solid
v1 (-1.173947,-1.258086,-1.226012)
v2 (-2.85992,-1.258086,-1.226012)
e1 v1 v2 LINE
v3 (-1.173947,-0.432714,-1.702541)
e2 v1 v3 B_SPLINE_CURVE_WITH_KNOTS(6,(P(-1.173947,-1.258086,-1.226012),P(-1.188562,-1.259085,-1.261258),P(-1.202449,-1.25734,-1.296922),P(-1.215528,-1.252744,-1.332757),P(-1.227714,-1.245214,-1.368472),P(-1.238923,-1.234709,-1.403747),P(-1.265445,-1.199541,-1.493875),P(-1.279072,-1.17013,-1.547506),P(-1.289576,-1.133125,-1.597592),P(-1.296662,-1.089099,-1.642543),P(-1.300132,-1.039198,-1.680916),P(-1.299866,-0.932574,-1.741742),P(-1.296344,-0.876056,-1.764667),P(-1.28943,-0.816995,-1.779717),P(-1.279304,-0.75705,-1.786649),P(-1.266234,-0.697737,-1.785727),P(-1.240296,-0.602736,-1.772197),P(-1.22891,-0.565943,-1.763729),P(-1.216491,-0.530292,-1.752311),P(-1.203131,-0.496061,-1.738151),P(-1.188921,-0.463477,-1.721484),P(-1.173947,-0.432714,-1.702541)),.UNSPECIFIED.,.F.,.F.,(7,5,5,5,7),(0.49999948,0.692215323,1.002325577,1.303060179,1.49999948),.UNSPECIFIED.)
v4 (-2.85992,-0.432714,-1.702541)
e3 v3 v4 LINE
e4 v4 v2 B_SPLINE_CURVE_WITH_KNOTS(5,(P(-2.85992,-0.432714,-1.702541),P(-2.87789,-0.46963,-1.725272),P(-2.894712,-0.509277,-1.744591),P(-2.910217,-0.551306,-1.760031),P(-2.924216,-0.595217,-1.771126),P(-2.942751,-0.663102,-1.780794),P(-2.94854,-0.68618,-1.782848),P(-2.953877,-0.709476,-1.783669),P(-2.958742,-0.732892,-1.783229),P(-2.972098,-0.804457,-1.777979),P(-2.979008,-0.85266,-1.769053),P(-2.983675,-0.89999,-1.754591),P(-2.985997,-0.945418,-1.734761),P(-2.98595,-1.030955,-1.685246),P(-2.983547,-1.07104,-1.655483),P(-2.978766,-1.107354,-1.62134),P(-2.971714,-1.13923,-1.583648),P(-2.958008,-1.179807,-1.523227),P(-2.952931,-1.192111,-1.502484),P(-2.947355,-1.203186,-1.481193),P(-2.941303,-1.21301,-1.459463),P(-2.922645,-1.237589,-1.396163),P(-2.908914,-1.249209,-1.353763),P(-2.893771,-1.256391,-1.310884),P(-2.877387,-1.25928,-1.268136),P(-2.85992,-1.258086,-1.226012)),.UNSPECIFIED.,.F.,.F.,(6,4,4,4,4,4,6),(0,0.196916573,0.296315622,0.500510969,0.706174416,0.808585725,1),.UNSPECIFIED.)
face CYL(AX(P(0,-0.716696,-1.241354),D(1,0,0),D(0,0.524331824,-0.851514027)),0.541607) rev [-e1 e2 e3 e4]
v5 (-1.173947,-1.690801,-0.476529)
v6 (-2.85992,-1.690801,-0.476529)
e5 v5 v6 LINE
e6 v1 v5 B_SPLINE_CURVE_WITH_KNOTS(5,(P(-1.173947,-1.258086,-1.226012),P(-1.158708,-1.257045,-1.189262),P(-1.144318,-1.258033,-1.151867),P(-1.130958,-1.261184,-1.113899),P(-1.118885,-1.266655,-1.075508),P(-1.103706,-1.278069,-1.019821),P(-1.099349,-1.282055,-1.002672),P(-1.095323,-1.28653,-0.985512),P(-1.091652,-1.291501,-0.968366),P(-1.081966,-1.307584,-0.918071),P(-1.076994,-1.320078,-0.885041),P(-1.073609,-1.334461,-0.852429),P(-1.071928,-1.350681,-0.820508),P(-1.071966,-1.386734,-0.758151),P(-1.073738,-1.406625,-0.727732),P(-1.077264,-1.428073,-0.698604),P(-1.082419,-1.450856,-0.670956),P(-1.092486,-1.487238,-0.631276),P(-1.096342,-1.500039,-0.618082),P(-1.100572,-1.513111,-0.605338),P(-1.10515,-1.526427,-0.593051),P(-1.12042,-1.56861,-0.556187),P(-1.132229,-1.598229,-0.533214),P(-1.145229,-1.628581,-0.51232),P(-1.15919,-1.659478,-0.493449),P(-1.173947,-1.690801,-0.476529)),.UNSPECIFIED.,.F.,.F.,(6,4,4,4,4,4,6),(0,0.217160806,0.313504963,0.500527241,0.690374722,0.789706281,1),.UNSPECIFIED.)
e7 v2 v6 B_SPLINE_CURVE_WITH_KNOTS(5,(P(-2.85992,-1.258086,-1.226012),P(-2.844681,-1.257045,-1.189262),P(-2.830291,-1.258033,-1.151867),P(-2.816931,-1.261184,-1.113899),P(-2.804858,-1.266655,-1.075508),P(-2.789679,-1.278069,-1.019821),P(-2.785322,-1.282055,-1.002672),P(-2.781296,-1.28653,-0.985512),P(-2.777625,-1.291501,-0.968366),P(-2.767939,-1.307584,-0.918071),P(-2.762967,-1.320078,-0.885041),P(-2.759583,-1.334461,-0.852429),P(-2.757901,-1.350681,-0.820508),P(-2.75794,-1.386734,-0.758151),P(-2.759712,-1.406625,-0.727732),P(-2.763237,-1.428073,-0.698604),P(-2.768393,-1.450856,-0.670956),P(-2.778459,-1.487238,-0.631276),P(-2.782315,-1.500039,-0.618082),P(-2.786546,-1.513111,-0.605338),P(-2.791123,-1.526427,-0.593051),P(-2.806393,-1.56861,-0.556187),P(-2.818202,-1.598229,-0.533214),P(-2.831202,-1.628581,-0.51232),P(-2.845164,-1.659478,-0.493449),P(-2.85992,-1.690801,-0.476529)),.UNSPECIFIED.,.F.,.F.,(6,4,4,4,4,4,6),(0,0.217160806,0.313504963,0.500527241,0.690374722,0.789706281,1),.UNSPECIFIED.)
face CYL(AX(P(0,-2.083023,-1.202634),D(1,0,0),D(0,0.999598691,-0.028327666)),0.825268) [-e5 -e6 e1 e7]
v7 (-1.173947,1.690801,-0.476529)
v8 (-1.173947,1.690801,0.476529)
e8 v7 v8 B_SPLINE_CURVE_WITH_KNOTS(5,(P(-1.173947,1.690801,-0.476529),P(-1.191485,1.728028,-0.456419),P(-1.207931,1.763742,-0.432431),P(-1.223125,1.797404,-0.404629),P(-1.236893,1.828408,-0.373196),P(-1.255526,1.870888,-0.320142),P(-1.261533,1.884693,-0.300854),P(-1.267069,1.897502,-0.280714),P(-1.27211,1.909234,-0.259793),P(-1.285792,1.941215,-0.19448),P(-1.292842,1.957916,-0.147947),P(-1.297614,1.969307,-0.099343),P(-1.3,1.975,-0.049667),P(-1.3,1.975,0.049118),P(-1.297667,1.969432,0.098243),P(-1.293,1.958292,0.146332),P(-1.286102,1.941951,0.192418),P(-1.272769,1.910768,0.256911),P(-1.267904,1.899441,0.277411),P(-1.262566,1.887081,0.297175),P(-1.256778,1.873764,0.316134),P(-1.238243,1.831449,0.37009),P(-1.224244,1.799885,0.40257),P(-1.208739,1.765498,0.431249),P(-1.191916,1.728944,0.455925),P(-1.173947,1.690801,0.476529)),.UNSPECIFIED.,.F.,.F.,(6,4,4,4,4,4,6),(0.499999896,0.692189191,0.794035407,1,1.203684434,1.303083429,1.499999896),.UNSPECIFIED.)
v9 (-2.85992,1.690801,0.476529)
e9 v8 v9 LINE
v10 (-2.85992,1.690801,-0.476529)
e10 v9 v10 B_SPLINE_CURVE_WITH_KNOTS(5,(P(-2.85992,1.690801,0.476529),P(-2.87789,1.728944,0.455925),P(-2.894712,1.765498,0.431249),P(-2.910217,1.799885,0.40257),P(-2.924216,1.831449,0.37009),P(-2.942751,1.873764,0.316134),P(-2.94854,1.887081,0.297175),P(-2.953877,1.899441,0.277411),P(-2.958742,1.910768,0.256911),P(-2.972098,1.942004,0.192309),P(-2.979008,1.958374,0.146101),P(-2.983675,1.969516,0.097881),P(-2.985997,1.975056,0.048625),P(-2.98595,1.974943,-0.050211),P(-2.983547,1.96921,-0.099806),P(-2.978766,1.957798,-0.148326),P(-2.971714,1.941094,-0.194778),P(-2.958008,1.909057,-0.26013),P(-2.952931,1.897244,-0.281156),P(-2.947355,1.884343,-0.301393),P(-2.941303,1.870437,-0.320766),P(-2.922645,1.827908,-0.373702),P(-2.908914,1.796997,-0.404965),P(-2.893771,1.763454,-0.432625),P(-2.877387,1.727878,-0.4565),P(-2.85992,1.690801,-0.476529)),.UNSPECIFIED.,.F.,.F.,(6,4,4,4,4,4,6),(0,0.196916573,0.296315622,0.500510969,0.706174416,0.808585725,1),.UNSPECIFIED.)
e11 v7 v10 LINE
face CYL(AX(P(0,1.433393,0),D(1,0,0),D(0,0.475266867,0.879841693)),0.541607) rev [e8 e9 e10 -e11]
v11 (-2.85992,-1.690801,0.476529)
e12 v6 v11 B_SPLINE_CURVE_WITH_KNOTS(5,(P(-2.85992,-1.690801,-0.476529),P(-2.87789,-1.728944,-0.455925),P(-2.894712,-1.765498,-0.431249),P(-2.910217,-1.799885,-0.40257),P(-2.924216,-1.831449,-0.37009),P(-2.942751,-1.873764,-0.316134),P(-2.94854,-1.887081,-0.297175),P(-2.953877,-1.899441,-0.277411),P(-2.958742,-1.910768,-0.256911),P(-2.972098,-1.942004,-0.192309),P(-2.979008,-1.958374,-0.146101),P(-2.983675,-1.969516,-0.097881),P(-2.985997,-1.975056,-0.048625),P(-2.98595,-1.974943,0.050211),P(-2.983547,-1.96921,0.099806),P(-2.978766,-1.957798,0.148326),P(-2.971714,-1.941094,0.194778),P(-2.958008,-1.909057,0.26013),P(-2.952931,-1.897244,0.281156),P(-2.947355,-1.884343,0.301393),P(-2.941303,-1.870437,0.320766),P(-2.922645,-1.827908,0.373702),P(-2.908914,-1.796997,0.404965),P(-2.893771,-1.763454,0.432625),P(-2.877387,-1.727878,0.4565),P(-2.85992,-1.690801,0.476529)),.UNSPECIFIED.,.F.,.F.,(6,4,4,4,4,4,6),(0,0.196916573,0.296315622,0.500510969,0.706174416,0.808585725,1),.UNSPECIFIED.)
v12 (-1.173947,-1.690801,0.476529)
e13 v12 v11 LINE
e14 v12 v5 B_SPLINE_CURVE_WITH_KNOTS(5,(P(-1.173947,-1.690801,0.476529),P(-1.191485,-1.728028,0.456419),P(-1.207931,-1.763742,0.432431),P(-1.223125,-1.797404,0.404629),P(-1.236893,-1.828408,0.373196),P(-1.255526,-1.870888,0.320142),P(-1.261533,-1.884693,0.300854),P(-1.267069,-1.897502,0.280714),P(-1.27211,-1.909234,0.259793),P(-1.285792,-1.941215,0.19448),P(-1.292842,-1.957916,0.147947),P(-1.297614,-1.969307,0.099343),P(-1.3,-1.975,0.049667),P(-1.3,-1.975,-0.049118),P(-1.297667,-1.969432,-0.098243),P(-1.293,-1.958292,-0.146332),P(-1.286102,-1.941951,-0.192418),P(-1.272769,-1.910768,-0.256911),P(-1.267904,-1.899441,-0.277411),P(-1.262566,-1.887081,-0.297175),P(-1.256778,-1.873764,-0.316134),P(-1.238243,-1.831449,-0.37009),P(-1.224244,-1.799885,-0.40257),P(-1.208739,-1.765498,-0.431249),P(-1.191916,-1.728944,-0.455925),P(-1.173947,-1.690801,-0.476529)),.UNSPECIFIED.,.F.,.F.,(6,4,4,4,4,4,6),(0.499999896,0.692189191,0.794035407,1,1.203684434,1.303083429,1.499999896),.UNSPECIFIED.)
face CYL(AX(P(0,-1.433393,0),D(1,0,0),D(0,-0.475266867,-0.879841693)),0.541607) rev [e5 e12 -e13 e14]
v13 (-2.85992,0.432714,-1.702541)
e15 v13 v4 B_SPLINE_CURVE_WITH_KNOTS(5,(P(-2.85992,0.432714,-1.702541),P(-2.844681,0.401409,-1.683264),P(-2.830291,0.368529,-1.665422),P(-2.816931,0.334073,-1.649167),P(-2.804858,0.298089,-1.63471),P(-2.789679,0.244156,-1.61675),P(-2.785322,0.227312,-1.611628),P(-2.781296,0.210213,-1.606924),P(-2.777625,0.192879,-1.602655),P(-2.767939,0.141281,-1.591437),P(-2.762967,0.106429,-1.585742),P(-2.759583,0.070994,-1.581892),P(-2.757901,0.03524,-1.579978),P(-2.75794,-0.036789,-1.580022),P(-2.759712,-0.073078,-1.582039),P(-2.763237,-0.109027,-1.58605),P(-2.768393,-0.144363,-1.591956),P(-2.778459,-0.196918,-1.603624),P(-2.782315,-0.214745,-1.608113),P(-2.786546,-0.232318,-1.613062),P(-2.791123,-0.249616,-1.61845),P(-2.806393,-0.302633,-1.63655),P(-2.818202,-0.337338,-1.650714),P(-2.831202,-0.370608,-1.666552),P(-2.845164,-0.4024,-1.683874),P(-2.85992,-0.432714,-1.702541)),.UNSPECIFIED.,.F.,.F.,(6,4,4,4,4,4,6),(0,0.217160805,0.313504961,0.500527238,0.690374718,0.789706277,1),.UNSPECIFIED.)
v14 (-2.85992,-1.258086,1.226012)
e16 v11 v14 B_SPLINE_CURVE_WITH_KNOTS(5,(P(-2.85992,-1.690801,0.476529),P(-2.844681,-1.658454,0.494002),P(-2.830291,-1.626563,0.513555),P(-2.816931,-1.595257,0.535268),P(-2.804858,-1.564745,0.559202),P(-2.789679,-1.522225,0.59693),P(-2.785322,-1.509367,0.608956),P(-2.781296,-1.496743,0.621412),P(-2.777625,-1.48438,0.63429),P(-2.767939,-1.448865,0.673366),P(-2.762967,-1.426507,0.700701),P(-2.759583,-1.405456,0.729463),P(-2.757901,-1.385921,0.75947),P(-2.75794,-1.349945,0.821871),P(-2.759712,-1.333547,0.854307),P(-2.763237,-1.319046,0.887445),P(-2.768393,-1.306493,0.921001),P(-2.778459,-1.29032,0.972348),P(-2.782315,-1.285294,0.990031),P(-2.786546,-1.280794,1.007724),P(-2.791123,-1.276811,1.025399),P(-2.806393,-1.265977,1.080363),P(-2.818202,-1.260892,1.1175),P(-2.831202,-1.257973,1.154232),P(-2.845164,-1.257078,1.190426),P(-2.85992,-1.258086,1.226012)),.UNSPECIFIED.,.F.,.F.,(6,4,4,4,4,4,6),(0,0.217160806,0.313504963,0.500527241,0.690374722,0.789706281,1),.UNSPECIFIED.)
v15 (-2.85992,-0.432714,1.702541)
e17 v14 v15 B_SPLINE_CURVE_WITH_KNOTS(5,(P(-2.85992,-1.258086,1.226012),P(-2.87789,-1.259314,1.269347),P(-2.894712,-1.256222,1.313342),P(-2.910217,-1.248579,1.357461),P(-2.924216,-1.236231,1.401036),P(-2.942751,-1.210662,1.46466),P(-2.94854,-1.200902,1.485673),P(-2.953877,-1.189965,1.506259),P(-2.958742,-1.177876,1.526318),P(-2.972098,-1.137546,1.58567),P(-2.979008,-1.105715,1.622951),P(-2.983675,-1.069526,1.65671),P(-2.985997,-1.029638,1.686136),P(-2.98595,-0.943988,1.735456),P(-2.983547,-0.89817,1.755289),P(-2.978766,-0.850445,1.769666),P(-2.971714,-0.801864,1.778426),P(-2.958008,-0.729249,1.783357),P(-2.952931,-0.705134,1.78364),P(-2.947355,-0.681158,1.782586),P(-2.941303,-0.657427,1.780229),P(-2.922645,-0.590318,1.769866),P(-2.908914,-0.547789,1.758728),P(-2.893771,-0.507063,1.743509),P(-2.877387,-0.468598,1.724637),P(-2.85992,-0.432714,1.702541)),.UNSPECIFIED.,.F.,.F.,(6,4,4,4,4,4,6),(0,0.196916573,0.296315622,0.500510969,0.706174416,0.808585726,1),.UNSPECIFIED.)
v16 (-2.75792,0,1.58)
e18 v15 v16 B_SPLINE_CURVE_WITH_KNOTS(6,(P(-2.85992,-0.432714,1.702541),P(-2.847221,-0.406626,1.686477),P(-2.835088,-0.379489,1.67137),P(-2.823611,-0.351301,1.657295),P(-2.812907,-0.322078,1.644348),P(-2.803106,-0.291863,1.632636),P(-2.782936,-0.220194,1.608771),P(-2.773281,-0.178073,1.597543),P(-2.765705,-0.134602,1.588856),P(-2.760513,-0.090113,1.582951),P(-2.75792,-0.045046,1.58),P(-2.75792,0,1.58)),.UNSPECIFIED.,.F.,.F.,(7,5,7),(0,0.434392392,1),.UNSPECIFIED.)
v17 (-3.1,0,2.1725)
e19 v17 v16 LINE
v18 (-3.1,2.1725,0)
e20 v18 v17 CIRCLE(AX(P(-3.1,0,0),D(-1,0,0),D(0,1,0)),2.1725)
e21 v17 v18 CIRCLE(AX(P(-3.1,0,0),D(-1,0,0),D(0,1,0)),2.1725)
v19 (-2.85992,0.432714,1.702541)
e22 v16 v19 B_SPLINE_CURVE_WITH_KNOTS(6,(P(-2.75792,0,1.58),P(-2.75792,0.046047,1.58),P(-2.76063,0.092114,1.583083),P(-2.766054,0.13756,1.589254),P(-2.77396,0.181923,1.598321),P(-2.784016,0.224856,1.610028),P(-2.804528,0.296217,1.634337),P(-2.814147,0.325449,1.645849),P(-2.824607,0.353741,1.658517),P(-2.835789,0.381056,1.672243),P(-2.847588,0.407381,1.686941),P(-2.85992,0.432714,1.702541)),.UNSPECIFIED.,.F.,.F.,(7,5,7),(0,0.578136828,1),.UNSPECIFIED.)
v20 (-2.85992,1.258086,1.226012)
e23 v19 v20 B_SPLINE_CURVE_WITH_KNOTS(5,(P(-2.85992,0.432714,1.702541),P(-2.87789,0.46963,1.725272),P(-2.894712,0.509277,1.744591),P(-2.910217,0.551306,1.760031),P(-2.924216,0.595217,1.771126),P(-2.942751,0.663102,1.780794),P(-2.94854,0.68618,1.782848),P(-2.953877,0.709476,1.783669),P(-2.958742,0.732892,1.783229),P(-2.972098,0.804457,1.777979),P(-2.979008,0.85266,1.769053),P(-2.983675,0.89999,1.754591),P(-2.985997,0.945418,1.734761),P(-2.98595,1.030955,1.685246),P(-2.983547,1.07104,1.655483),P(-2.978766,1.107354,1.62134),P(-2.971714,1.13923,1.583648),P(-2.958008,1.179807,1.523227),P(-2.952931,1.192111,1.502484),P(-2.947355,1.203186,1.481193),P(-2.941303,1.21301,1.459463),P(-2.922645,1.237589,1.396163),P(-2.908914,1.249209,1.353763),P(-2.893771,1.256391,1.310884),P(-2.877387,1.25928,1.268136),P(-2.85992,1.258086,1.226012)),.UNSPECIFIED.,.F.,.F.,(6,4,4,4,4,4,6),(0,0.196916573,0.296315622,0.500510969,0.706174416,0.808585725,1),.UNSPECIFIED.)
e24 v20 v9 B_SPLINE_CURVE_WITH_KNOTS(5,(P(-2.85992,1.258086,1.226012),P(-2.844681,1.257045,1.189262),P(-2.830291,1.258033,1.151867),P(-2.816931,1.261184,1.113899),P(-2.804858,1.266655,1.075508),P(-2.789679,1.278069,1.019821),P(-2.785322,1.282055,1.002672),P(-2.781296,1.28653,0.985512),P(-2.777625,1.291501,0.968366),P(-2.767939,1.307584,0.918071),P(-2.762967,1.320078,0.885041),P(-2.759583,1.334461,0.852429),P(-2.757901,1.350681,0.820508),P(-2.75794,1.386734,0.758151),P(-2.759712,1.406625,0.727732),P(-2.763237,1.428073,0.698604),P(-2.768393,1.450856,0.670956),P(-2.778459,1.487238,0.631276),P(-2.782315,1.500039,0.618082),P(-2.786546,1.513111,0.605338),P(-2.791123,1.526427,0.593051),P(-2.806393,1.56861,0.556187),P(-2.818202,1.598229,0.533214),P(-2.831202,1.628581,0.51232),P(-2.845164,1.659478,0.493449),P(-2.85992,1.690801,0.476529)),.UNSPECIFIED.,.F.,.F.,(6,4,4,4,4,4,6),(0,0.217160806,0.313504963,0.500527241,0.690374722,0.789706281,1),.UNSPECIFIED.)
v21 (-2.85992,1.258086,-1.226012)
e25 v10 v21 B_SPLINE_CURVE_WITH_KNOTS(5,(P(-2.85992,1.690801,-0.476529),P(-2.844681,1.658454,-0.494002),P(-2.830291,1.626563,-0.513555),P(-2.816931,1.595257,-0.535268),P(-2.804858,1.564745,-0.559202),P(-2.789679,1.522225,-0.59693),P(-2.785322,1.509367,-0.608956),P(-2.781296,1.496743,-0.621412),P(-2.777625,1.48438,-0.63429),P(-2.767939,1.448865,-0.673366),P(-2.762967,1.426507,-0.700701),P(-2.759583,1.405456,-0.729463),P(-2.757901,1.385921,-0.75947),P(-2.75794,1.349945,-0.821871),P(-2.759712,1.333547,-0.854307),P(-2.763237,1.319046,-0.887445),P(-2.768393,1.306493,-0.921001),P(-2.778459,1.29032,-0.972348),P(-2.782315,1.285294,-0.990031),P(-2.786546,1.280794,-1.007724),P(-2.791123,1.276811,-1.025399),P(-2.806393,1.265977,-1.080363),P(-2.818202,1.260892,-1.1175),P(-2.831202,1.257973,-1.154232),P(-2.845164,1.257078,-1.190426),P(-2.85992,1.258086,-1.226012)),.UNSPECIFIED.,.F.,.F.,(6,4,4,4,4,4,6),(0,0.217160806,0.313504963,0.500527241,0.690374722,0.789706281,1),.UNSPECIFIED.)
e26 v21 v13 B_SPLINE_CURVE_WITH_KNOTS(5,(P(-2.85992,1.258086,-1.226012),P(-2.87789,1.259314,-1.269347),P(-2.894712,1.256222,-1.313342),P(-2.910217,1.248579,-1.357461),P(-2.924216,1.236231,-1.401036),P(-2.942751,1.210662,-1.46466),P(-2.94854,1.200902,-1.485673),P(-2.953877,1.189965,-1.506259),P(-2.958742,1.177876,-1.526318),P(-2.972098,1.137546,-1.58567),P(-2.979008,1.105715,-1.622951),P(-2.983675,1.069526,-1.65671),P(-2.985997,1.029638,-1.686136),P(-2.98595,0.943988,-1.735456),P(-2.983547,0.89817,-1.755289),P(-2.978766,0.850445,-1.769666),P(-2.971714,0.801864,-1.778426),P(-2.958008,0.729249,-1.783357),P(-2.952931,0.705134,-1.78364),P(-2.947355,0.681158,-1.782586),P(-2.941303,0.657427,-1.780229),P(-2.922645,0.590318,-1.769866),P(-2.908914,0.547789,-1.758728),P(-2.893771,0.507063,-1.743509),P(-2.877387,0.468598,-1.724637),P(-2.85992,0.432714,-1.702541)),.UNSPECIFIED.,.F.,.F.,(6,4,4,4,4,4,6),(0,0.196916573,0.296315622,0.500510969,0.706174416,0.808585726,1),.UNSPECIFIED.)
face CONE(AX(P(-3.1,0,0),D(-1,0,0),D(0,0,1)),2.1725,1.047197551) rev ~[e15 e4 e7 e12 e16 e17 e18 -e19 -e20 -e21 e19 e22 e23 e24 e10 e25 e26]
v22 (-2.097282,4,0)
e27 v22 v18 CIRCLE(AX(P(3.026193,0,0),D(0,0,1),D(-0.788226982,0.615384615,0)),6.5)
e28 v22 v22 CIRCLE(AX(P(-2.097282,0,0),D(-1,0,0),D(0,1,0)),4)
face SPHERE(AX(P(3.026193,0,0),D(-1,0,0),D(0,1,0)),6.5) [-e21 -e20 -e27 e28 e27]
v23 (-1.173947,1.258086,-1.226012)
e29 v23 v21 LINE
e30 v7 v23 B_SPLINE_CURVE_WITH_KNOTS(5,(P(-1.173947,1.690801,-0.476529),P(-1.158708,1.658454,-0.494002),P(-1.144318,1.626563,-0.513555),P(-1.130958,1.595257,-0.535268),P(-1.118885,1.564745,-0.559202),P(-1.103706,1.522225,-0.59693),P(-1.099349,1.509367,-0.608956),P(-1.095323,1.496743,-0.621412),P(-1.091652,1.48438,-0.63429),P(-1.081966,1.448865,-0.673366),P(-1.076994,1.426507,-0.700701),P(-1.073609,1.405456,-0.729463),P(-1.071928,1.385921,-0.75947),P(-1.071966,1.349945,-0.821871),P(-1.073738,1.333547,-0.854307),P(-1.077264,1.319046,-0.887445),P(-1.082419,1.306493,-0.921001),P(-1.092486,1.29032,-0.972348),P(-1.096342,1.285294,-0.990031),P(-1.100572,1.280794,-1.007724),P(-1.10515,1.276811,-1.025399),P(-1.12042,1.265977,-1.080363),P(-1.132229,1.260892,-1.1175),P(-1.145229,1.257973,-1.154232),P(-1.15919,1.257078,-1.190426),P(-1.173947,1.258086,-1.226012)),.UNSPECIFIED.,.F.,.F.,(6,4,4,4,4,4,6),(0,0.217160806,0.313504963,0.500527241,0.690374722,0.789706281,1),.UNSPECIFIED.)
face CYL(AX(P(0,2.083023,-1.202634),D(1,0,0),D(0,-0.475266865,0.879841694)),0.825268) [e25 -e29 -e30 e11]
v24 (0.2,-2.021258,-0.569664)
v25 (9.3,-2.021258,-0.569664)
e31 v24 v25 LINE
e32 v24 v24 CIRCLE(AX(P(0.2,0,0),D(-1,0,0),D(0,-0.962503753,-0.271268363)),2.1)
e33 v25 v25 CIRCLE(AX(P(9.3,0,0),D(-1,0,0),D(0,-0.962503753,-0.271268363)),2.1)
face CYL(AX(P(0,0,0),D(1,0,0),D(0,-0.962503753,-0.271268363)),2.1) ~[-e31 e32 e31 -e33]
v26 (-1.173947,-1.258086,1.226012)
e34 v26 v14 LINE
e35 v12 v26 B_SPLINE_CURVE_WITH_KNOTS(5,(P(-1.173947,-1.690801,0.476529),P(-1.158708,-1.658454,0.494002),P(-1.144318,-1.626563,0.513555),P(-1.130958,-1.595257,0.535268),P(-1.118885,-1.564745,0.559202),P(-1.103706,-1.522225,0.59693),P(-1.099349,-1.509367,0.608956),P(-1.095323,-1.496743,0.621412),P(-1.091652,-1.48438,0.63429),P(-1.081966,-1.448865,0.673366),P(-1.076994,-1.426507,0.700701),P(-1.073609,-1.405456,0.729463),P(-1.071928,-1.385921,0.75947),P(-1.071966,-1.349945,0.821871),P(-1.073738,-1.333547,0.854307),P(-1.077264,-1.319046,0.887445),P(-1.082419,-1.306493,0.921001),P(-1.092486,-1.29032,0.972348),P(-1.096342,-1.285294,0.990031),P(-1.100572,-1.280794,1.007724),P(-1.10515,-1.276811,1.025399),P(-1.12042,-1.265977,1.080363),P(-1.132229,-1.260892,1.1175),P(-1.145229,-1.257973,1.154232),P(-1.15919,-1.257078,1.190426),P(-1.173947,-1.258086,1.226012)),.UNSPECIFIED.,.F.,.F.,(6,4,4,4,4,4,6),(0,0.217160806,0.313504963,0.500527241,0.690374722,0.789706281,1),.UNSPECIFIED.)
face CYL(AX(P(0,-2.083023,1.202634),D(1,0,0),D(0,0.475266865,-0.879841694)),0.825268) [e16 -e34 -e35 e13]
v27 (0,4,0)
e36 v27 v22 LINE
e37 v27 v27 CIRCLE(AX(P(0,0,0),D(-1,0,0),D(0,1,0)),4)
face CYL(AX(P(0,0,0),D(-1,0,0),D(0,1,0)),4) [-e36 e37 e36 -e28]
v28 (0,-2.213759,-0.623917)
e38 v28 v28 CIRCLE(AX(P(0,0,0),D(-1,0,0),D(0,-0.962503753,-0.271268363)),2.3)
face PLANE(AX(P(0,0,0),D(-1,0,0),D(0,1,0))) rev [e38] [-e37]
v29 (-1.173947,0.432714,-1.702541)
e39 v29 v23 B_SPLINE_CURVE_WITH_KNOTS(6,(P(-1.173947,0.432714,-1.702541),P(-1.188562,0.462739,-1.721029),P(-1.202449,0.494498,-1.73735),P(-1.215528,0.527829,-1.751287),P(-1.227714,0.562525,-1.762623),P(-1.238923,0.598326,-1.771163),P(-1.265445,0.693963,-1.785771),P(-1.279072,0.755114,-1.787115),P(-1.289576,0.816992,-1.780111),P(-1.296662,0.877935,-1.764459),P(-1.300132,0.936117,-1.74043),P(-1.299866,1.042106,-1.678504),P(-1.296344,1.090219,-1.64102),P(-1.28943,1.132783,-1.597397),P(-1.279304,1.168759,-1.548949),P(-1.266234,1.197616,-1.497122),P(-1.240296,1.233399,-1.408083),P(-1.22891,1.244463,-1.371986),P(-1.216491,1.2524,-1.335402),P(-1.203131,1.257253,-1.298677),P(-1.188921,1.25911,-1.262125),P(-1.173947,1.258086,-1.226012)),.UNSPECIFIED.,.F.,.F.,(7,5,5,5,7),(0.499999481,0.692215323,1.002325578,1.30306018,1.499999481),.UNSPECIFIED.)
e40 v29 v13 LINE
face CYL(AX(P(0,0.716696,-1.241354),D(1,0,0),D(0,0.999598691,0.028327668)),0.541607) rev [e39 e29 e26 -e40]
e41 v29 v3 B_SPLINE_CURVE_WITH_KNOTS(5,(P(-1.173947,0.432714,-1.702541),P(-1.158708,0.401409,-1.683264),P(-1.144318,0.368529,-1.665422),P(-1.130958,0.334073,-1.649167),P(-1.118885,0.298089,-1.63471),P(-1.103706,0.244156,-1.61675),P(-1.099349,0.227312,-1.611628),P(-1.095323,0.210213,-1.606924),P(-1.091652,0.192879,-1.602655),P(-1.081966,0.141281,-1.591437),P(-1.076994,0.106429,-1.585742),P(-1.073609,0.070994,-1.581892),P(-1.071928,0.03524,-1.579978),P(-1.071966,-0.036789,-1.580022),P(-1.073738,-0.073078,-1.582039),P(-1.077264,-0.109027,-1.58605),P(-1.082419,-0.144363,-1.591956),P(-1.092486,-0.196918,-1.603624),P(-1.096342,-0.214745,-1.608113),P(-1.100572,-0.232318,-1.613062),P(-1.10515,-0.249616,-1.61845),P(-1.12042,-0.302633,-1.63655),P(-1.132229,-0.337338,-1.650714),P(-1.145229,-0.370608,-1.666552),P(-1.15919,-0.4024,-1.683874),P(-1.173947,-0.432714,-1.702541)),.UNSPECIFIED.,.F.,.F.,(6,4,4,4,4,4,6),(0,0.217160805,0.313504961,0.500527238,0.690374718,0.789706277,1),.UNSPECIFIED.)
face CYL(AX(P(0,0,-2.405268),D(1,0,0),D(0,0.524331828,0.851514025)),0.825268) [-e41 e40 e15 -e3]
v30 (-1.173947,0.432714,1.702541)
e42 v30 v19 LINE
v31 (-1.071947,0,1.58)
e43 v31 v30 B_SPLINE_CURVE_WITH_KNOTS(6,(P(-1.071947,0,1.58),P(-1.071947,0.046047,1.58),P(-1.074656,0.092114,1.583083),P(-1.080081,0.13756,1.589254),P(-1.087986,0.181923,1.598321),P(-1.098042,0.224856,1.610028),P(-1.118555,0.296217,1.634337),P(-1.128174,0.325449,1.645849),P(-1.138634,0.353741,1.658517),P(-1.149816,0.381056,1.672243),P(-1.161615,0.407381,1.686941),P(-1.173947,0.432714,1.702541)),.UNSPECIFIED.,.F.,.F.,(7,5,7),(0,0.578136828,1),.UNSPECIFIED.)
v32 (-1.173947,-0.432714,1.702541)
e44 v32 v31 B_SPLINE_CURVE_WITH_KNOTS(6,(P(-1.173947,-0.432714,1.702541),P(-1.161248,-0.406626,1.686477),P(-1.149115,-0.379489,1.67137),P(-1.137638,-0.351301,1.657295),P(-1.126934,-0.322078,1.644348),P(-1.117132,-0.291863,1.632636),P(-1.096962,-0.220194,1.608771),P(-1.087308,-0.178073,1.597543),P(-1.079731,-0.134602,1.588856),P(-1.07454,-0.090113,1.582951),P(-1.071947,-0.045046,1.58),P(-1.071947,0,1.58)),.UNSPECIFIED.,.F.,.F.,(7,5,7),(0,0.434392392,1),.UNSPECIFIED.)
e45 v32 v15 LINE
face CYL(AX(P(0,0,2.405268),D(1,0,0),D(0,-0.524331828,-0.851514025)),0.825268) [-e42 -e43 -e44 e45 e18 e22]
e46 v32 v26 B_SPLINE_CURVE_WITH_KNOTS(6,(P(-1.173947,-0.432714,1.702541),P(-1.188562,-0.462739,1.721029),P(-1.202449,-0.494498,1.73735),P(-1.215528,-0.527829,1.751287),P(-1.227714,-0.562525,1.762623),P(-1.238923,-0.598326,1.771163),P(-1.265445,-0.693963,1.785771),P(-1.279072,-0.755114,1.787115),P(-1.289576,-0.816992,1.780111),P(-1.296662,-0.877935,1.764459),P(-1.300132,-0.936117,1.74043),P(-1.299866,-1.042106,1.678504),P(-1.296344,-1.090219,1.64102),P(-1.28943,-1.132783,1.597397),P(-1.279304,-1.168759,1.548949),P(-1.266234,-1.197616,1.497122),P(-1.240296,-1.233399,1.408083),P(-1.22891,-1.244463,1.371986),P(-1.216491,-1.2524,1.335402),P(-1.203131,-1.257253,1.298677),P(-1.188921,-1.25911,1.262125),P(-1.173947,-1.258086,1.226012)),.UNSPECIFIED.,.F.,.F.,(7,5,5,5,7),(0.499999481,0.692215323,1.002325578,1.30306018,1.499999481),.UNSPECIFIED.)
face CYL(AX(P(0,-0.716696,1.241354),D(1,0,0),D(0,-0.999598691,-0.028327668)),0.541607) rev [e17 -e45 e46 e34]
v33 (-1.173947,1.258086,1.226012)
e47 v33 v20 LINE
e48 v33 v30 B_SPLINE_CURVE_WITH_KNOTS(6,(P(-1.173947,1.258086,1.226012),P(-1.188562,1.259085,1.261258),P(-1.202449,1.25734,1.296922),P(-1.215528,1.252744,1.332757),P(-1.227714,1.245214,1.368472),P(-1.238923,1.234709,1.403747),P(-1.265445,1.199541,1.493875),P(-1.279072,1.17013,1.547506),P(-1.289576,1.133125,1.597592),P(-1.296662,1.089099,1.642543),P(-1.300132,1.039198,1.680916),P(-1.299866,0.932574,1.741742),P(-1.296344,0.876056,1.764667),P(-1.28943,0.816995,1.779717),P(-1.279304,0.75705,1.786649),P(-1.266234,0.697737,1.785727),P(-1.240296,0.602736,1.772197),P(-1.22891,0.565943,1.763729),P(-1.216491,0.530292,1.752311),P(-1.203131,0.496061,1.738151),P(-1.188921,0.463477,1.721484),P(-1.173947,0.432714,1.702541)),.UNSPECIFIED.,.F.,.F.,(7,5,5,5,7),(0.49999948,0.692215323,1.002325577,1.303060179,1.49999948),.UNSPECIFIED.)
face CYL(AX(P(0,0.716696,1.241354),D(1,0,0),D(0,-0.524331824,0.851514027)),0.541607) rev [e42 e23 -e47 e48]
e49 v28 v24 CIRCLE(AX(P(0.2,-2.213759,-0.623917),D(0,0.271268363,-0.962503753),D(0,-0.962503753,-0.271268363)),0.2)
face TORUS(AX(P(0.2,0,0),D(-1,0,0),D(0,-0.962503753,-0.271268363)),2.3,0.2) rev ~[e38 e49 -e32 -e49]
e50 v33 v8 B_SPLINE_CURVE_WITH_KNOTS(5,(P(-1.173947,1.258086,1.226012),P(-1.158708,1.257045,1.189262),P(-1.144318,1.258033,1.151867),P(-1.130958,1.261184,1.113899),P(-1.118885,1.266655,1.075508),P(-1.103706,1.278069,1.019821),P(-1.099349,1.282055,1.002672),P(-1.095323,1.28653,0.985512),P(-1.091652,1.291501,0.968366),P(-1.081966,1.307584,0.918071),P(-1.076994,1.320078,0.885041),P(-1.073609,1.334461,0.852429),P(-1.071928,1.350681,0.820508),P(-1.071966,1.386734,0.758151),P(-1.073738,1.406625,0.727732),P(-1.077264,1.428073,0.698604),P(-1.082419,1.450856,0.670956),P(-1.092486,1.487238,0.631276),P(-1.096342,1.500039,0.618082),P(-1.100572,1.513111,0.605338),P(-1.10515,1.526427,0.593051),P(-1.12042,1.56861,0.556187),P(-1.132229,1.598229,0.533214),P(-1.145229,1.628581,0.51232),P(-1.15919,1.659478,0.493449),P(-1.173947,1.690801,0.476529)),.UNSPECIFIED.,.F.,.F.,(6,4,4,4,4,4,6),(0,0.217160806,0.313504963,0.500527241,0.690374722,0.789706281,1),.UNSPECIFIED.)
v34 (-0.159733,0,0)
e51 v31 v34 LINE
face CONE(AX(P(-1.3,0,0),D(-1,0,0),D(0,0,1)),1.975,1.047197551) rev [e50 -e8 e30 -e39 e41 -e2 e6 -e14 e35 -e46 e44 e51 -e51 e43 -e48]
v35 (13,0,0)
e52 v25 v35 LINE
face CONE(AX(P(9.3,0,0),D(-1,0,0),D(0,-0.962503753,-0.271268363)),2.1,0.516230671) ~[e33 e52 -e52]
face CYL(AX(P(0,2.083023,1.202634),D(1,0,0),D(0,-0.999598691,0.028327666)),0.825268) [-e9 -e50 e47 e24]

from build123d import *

# Parameters (mm, degrees)
CUT_EXTRUDE_1_REACH = 8.451
FILLET_1_R          = 0.2


with BuildPart() as part:
    # 草图2 → 旋转1 (revolve)
    with BuildSketch(Plane.XY):
        with BuildLine():
            Line((0, 0), (0, 4))
            Line((0, 4), (-2.097282132, 4))
            ThreePointArc((-2.097282132, 4), (-2.672376759, 3.126707508), (-3.1, 2.1725))
            Line((-3.1, 2.1725), (-3.1, 0))
            Line((-3.1, 0), (0, 0))
        make_face()
    revolve(axis=Axis((0, 0, 0), (-1, 0, 0)))

    # 草图3 → 切除-拉伸1 (cut, up to next)
    with BuildSketch(Plane(origin=(0, 0, 0), x_dir=(0, 0, -1), z_dir=(1, 0, 0)), mode=Mode.PRIVATE) as cut_extrude_1_sk1:
        with BuildLine():
            ThreePointArc((-0.476528859, 1.6908006), (0, 1.975), (0.476528859, 1.6908006))
            ThreePointArc((0.476528859, 1.6908006), (0.79, 1.368320138), (1.226011842, 1.258086397))
            ThreePointArc((1.226011842, 1.258086397), (1.710400172, 0.9875), (1.702540702, 0.432714202))
            ThreePointArc((1.702540702, 0.432714202), (1.58, 0), (1.702540702, -0.432714202))
            ThreePointArc((1.702540702, -0.432714202), (1.710400172, -0.9875), (1.226011842, -1.258086397))
            ThreePointArc((1.226011842, -1.258086397), (0.79, -1.368320138), (0.476528859, -1.6908006))
            ThreePointArc((0.476528859, -1.6908006), (0, -1.975), (-0.476528859, -1.6908006))
            ThreePointArc((-0.476528859, -1.6908006), (-0.79, -1.368320138), (-1.226011842, -1.258086397))
            ThreePointArc((-1.226011842, -1.258086397), (-1.710400172, -0.9875), (-1.702540702, -0.432714202))
            ThreePointArc((-1.702540702, -0.432714202), (-1.58, 0), (-1.702540702, 0.432714202))
            ThreePointArc((-1.702540702, 0.432714202), (-1.710400172, 0.9875), (-1.226011842, 1.258086397))
            ThreePointArc((-1.226011842, 1.258086397), (-0.79, 1.368320138), (-0.476528859, 1.6908006))
        make_face()
    cut_extrude_1_tool1 = extrude(cut_extrude_1_sk1.sketch, amount=-CUT_EXTRUDE_1_REACH, mode=Mode.PRIVATE) & part.part
    add(cut_extrude_1_tool1.solids().sort_by_distance((0, 0, 0))[0], mode=Mode.SUBTRACT)

    # 草图4 → 旋转2 (revolve)
    with BuildSketch(Plane.XY, mode=Mode.PRIVATE) as revolve_2_sk:
        Polygon((0, 1.975), (-1.3, 1.975), (-0.159733218, 0), (0, 0), align=None)
    revolve(revolve_2_sk.sketch.rotate(Axis((0, 0, 0), (-1, 0, 0)), 270), axis=Axis((0, 0, 0), (-1, 0, 0)))

    # 切除-拉伸2 cone 1 section (through the dimple's axis) → 切除-拉伸2 (revolve, cut)
    with BuildSketch(Plane(origin=(-3.1, 0, 0), x_dir=(0, 0, 1), z_dir=(0, 1, 0))):
        Polygon((0, 0), (2.1725, 0), (0, 1.25429346), align=None)
    revolve(axis=Axis((-3.1, 0, 0), (1, 0, 0)), mode=Mode.SUBTRACT)

    # 草图6 → 旋转3 (revolve)
    with BuildSketch(Plane.XY, mode=Mode.PRIVATE) as revolve_3_sk:
        Polygon((0, 2.1), (9.3, 2.1), (13, 0), (0, 0), align=None)
    revolve(revolve_3_sk.sketch.rotate(Axis((0, 0, 0), (-1, 0, 0)), 164.260244237), axis=Axis((0, 0, 0), (-1, 0, 0)))

    # 圆角1
    fillet_1_edges = [part.edges().sort_by_distance(p)[0] for p in [
        (0, 2.021257882, 0.569663562),
    ]]
    fillet(fillet_1_edges, radius=FILLET_1_R)


solid = part.part
